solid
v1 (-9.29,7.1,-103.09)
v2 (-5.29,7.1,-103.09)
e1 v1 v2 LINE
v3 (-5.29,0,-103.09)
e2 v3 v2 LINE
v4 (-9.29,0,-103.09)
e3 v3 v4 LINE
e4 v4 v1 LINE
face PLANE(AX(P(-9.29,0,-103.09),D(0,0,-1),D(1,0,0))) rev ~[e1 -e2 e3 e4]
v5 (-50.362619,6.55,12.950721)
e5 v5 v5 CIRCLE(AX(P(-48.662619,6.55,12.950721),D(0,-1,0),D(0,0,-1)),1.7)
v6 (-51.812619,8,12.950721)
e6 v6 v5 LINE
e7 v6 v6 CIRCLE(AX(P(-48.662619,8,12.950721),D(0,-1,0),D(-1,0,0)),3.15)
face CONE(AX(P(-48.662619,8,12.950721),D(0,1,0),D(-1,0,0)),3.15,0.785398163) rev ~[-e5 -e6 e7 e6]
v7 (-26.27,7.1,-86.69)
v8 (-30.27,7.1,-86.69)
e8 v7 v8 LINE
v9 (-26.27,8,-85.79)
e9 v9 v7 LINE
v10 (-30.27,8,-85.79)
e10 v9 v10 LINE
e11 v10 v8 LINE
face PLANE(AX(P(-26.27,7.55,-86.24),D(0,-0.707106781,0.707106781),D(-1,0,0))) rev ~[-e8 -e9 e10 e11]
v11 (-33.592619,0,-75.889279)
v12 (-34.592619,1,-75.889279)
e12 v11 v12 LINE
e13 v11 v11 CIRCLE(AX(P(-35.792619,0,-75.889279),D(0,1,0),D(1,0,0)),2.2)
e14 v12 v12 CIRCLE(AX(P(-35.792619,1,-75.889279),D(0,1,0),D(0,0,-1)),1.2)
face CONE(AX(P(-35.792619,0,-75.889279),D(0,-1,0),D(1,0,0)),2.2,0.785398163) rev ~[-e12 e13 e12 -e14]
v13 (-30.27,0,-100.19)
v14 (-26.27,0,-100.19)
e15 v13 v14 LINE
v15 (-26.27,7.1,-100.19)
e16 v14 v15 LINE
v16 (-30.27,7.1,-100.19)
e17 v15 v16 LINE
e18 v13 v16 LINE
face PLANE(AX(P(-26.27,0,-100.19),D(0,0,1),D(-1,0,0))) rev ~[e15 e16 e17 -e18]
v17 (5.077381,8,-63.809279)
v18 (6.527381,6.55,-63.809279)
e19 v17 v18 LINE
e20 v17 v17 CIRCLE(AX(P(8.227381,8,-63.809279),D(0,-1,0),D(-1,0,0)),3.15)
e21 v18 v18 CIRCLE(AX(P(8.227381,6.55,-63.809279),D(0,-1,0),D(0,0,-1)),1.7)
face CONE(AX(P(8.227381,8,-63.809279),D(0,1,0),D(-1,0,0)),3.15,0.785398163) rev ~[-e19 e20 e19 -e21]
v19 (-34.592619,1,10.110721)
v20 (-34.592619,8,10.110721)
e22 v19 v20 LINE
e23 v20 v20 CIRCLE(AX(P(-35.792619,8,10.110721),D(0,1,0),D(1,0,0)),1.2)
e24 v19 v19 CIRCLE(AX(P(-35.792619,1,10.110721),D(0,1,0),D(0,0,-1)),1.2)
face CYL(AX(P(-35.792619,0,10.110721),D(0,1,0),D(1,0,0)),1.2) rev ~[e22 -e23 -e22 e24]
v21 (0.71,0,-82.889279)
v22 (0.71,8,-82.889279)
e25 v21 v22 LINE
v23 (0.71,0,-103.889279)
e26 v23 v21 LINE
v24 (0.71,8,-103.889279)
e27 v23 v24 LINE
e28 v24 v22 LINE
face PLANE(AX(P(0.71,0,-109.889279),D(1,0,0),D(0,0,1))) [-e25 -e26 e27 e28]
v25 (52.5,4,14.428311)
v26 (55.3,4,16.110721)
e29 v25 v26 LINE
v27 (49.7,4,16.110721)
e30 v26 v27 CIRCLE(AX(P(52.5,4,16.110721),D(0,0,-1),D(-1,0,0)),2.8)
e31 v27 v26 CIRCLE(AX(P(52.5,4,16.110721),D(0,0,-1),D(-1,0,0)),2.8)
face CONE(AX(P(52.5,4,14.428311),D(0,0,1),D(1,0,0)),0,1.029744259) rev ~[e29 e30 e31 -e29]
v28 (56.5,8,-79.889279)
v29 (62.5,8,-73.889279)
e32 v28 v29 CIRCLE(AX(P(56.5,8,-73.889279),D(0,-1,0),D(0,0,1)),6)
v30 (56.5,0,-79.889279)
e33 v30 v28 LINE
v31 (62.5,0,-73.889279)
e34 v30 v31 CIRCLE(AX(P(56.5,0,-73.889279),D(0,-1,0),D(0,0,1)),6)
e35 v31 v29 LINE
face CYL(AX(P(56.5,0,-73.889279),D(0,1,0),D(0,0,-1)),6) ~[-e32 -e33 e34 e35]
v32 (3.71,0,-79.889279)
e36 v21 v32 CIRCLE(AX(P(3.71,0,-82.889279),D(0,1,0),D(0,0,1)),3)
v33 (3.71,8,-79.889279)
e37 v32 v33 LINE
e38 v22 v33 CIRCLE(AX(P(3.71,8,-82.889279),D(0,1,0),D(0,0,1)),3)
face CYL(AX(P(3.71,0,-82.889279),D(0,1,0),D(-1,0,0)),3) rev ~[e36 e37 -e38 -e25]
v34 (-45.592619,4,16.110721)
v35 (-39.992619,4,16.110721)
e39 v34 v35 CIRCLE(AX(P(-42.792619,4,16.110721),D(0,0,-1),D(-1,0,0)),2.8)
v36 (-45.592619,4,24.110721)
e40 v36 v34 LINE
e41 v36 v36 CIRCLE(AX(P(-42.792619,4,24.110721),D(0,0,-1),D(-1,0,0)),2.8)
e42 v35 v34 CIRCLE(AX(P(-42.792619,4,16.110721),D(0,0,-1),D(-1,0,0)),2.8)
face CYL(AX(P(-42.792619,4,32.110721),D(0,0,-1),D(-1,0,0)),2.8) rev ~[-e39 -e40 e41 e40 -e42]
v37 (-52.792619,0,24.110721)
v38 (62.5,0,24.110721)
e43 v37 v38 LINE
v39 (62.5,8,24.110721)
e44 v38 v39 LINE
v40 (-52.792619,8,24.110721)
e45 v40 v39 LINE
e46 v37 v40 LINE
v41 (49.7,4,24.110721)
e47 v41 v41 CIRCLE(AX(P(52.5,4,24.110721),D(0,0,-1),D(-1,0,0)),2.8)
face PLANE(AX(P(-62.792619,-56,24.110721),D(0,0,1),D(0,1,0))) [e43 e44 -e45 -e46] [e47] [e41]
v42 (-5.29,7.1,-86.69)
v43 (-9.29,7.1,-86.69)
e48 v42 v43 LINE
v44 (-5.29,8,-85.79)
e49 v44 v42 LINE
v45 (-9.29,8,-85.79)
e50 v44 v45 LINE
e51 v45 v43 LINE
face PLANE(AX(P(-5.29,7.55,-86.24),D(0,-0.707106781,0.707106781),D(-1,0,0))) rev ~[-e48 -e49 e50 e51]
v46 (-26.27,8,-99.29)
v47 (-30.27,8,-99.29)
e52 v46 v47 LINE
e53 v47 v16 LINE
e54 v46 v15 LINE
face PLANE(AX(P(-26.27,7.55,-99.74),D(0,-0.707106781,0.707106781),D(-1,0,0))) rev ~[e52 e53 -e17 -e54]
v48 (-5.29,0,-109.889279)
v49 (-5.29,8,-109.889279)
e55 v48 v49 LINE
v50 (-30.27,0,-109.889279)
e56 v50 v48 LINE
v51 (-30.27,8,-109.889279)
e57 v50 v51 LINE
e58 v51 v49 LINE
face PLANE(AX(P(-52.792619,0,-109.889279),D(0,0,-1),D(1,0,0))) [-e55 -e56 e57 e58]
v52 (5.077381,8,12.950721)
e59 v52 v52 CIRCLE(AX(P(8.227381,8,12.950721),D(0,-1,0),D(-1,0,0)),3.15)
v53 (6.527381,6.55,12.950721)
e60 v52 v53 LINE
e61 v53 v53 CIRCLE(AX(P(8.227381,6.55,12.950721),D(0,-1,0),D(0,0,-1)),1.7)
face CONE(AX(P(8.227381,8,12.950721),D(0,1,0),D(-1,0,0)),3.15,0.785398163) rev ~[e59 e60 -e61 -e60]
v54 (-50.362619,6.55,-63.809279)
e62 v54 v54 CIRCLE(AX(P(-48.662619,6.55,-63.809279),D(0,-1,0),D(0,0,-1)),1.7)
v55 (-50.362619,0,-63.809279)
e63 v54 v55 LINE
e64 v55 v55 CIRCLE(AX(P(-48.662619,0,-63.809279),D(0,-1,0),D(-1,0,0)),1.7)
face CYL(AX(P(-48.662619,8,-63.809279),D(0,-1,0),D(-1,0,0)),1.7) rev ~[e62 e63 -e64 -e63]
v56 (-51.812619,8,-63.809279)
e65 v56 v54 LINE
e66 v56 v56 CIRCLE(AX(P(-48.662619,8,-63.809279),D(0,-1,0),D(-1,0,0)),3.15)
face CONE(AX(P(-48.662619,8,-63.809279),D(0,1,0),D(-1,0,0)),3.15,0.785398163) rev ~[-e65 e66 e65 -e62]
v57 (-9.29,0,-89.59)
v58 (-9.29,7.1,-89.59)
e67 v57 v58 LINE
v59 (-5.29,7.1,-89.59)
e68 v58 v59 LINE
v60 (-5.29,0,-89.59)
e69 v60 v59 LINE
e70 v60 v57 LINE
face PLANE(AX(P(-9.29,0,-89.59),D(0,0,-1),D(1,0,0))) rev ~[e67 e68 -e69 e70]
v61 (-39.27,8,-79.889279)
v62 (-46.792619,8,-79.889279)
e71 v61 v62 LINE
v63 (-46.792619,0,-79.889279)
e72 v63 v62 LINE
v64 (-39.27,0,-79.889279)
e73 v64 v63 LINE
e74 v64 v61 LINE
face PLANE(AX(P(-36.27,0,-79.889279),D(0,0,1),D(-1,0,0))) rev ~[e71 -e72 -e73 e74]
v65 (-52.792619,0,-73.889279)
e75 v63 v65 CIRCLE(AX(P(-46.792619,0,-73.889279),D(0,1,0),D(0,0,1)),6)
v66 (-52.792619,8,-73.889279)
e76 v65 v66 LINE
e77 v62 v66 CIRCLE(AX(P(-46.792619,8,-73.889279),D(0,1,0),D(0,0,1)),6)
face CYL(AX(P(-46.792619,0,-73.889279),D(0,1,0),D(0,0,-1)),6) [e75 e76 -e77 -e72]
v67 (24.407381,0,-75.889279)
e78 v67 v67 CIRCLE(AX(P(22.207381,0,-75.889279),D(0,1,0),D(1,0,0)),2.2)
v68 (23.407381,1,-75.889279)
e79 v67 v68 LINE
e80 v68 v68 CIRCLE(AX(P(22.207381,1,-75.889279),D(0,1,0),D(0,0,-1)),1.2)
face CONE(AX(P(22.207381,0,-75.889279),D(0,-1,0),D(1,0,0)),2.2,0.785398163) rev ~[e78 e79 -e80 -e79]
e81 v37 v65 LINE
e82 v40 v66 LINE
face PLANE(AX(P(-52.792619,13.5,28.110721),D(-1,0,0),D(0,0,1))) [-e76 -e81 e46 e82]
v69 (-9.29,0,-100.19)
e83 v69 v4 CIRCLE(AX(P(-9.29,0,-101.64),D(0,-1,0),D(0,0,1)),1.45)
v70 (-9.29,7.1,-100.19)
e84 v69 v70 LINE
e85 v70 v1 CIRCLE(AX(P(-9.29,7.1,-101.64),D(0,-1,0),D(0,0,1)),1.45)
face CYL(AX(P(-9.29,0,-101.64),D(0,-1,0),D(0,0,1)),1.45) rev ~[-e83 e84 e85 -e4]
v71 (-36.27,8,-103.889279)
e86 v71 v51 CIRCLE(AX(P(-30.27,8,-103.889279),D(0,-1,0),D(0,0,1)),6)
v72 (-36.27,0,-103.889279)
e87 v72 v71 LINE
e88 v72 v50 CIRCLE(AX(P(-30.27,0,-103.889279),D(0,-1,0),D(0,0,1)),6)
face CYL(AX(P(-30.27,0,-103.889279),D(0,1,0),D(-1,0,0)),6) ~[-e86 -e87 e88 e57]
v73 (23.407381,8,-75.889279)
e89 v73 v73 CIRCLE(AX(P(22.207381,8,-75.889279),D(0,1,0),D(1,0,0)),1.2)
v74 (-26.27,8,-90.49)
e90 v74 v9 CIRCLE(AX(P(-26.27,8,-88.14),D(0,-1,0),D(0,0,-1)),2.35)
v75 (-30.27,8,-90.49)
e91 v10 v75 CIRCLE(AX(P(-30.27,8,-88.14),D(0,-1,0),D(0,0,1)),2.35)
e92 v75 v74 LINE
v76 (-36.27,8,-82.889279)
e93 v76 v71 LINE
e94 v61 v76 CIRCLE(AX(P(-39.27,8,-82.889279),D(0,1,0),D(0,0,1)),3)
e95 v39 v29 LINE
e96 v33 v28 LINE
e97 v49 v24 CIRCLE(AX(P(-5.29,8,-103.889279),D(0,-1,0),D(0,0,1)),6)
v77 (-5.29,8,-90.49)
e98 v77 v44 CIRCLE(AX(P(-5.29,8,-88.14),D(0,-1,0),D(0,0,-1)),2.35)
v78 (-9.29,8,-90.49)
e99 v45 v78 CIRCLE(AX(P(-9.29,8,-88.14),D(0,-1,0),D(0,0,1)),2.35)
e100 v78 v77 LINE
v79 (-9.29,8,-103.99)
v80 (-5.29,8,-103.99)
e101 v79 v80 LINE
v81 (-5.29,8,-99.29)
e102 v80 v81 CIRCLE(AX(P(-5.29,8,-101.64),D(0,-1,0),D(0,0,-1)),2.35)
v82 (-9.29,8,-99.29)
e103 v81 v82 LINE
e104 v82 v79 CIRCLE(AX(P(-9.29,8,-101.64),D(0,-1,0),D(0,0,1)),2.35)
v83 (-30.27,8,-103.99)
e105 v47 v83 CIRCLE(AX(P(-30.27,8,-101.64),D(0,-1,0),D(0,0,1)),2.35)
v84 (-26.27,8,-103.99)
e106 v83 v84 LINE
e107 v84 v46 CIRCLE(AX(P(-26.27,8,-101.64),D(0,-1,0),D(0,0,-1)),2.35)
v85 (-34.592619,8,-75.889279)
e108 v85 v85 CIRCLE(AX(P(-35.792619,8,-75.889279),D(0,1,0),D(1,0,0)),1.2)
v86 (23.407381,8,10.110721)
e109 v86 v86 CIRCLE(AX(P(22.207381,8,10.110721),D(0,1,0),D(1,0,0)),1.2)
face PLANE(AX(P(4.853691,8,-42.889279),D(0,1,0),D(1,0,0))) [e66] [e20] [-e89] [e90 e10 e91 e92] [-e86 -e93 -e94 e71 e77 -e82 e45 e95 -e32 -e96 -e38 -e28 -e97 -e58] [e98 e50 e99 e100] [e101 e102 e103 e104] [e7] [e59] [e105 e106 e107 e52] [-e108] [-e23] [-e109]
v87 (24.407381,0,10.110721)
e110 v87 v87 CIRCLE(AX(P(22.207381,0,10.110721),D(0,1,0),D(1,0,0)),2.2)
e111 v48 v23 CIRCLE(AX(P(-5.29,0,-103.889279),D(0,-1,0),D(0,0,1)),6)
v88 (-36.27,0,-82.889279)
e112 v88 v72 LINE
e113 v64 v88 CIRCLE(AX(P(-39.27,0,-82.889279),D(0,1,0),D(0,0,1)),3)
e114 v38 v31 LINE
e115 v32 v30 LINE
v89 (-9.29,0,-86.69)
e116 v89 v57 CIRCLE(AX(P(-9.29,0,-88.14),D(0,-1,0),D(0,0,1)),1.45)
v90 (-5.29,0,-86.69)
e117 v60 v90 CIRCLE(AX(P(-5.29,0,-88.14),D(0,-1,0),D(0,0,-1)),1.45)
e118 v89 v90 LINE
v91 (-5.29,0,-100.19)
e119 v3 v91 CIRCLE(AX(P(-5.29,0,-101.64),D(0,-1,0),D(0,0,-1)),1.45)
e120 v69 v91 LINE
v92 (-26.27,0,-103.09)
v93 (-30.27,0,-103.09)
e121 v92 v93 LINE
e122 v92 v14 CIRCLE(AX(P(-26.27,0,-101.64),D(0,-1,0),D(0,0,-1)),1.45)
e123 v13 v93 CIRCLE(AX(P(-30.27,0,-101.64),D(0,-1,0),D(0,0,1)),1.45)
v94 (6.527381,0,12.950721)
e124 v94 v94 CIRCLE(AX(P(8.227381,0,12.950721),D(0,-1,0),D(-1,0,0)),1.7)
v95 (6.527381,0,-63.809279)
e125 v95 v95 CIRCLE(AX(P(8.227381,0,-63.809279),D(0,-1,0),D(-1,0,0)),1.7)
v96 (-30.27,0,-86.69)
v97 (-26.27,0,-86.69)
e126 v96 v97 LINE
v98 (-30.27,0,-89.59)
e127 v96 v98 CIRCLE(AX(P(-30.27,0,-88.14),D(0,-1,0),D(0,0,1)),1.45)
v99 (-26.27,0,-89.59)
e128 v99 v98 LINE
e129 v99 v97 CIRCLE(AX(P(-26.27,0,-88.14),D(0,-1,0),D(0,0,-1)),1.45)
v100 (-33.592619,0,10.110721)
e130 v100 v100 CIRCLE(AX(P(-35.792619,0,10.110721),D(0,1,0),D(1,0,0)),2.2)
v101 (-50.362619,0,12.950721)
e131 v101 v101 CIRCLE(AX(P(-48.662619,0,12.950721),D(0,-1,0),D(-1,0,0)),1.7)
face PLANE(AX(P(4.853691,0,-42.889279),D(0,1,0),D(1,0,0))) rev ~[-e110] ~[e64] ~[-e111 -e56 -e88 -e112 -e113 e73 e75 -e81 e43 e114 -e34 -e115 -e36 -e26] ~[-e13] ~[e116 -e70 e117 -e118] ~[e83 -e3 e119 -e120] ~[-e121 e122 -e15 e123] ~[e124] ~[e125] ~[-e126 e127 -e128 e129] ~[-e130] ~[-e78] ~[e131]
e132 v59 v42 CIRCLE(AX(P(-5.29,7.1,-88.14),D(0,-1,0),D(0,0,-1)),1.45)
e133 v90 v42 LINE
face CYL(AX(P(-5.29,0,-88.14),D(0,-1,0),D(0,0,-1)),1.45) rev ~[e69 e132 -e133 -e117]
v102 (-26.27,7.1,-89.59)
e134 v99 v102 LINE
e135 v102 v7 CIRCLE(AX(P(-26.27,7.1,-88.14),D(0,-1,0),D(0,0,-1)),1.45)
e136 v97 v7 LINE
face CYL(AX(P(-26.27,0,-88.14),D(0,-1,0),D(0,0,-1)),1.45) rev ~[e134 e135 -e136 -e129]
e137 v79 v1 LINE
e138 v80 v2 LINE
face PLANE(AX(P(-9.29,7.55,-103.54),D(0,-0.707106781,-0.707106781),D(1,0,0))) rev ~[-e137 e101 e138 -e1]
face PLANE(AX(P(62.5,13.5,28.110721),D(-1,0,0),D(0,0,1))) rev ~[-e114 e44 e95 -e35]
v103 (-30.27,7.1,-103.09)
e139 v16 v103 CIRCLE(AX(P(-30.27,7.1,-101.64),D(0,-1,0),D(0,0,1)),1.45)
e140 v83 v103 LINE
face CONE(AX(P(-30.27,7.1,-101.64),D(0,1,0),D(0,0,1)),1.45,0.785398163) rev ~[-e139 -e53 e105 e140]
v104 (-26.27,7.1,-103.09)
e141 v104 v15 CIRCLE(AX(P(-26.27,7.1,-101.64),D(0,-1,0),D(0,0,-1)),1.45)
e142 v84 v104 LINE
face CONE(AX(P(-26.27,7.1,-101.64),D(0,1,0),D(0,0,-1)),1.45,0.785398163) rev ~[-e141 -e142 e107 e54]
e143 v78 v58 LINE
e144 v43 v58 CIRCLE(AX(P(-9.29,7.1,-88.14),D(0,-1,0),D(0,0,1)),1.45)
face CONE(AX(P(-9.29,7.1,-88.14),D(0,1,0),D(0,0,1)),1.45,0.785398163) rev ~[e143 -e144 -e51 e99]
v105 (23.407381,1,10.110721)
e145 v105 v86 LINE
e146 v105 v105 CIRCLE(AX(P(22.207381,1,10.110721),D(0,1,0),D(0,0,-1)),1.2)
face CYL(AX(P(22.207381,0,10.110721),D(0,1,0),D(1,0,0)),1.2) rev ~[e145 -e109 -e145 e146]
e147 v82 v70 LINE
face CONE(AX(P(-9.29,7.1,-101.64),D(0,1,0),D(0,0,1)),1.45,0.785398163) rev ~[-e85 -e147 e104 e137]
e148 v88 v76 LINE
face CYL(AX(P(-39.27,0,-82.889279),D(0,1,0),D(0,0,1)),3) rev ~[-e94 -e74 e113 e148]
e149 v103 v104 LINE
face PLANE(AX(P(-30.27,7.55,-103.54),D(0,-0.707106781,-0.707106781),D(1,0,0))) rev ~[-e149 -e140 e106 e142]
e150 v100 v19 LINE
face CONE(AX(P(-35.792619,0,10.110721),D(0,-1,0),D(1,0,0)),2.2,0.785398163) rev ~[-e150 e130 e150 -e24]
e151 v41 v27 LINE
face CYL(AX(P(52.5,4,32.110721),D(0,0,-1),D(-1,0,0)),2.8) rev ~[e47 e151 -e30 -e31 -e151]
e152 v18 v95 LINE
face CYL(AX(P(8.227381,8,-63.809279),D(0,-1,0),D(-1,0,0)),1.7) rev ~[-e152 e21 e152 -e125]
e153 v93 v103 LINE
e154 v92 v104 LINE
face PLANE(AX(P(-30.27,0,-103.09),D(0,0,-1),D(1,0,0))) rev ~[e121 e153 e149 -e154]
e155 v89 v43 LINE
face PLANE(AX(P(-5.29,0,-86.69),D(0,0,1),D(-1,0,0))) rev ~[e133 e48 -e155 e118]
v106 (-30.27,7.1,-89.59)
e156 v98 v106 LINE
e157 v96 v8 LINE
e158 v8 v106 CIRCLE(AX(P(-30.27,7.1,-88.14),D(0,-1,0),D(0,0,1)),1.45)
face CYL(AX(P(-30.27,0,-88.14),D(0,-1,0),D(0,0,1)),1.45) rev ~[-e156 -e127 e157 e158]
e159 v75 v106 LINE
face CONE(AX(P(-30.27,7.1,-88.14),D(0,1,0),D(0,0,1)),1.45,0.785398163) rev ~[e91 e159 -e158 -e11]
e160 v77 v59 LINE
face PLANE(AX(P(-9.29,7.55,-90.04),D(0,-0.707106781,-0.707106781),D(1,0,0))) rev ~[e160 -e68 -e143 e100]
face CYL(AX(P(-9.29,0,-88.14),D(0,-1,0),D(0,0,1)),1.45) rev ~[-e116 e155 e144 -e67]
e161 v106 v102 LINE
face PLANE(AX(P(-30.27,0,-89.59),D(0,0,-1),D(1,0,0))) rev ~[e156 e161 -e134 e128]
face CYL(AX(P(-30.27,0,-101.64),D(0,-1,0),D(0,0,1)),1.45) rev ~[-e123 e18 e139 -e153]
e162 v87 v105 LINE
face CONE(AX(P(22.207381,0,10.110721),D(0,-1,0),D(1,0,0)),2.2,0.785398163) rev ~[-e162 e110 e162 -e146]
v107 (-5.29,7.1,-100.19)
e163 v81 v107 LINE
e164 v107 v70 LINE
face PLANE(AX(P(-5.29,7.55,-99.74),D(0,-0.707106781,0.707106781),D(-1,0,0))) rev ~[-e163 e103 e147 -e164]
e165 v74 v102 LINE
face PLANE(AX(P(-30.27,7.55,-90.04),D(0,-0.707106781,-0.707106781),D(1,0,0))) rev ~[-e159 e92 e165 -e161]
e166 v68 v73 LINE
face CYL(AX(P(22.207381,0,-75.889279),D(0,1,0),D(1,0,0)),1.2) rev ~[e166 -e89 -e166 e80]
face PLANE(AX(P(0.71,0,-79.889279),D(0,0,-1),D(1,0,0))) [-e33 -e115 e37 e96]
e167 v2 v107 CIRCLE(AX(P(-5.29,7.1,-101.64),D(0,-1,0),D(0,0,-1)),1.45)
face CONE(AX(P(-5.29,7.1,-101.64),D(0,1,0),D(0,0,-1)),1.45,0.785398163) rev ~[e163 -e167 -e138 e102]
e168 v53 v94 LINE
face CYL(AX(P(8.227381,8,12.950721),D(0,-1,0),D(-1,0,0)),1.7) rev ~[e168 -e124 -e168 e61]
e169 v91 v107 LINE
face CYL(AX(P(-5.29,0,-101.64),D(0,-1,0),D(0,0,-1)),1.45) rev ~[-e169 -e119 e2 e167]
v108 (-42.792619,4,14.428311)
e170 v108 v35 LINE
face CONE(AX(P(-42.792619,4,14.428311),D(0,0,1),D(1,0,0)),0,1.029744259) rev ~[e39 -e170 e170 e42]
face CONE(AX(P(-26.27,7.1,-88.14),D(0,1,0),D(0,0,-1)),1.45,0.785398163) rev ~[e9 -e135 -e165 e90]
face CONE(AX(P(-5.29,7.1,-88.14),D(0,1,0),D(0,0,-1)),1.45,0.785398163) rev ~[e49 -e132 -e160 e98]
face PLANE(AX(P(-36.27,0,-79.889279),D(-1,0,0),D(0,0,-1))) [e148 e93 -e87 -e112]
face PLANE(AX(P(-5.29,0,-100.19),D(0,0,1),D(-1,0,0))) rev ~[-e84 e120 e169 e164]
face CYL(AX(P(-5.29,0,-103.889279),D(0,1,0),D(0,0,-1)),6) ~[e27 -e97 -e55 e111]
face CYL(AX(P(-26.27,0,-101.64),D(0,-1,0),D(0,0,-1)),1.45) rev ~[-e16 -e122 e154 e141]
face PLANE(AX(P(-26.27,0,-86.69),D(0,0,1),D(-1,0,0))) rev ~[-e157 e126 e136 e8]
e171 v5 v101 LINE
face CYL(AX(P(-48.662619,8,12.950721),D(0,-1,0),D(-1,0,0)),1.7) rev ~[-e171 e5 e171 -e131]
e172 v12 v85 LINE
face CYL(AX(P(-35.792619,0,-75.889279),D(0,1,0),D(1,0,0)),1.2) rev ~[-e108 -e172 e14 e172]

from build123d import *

# Parameters (mm, degrees)
SKETCH2_W                                       = 115.292618629
SKETCH2_H                                       = 134.000000002
BOSS_EXTRUDE2_DEPTH                             = 8
FILLET2_R                                       = 6
CSK_FOR_M2_FLAT_HEAD_MACHINE_SCREW2_D           = 2.4
CSK_FOR_M2_FLAT_HEAD_MACHINE_SCREW2_CSINK_D     = 4.4
CSK_FOR_M2_FLAT_HEAD_MACHINE_SCREW2_CSINK_ANGLE = 90
CSK_FOR_M3_FLAT_HEAD_MACHINE_SCREW1_D           = 3.4
CSK_FOR_M3_FLAT_HEAD_MACHINE_SCREW1_CSINK_D     = 6.3
CSK_FOR_M3_FLAT_HEAD_MACHINE_SCREW1_CSINK_ANGLE = 90
SKETCH19_W                                      = 8
SKETCH19_H                                      = 99
BOSS_EXTRUDE3_DEPTH                             = 115.292618629
SKETCH21_W                                      = 135.292618629
SKETCH21_H                                      = 129
SKETCH21_W_2                                    = 115.292618629
SKETCH21_H_2                                    = 99
BOSS_EXTRUDE4_DEPTH                             = 8
FILLET3_R                                       = 5
CUT_EXTRUDE1_DEPTH                              = 4
SKETCH24_W                                      = 115.292618629
SKETCH24_H                                      = 10
BOSS_EXTRUDE5_DEPTH                             = 104
FILLET4_R                                       = 6
M2_5_CLEARANCE_HOLE1_D                          = 2.9
CUT_EXTRUDE4_START                              = -8
CUT_EXTRUDE4_DEPTH                              = 8
CHAMFER1_SIZE                                   = 0.9
SKETCH61_W                                      = 104
SKETCH61_H                                      = 10
CUT_EXTRUDE6_DEPTH                              = 115.292618629
SKETCH62_W                                      = 8
SKETCH62_H                                      = 129
CUT_EXTRUDE7_DEPTH                              = 135.292618629
F_5_6_5_6_DIAMETER_HOLE1_D                      = 5.6
F_5_6_5_6_DIAMETER_HOLE1_DEPTH                  = 8
F_5_6_5_6_DIAMETER_HOLE1_TIP                    = 1.682409733
SKETCH66_W                                      = 61.79
SKETCH66_H                                      = 30.000000002
CUT_EXTRUDE9_DEPTH                              = 8
SKETCH67_W                                      = 16.522618629
SKETCH67_H                                      = 30.000000002
CUT_EXTRUDE10_DEPTH                             = 8
FILLET5_R                                       = 6
FILLET6_R                                       = 3


with BuildPart() as part:
    # Sketch2 → Boss-Extrude2 (new body)
    with BuildSketch(Plane(origin=(0, 0, 0), x_dir=(1, 0, 0), z_dir=(0, 1, 0))):
        with Locations((4.853690686, 42.889279439)):
            Rectangle(SKETCH2_W, SKETCH2_H)
    extrude(amount=BOSS_EXTRUDE2_DEPTH)

    # Fillet2
    fillet2_edges = [part.edges().sort_by_distance(p)[0] for p in [
        (-52.792618629, 4, -109.88927944),
        (62.5, 4, -109.88927944),
    ]]
    fillet(fillet2_edges, radius=FILLET2_R)

    # CSK for M2 Flat Head Machine Screw2 (through all)
    with Locations(Plane(origin=(0, 0, 0), x_dir=(-1, 0, 0), z_dir=(0, -1, 0))):
        with Locations((-22.207381371, 75.889279438), (35.792618629, 75.889279438), (35.792618629, -10.110720562), (-22.207381371, -10.110720562)):
            CounterSinkHole(CSK_FOR_M2_FLAT_HEAD_MACHINE_SCREW2_D / 2, CSK_FOR_M2_FLAT_HEAD_MACHINE_SCREW2_CSINK_D / 2, counter_sink_angle=CSK_FOR_M2_FLAT_HEAD_MACHINE_SCREW2_CSINK_ANGLE)

    # CSK for M3 Flat Head Machine Screw1 (through all)
    with Locations(Plane(origin=(0, 8, 0), x_dir=(1, 0, 0), z_dir=(0, 1, 0))):
        with Locations((-48.662618629, 63.809279438), (8.227381371, 63.809279438), (8.227381371, -12.950720562), (-48.662618629, -12.950720562)):
            CounterSinkHole(CSK_FOR_M3_FLAT_HEAD_MACHINE_SCREW1_D / 2, CSK_FOR_M3_FLAT_HEAD_MACHINE_SCREW1_CSINK_D / 2, counter_sink_angle=CSK_FOR_M3_FLAT_HEAD_MACHINE_SCREW1_CSINK_ANGLE)

    # Sketch19 → Boss-Extrude3 (add)
    with BuildSketch(Plane.ZY.offset(52.792618629)):
        with Locations((28.110720562, 13.5)):
            Rectangle(SKETCH19_W, SKETCH19_H)
    extrude(amount=-BOSS_EXTRUDE3_DEPTH)

    # Sketch21 → Boss-Extrude4 (add)
    with BuildSketch(Plane.XY.offset(32.110720562)):
        with Locations((4.853690685, 8.5)):
            Rectangle(SKETCH21_W, SKETCH21_H)
        with Locations((4.853690686, 13.5)):
            Rectangle(SKETCH21_W_2, SKETCH21_H_2, mode=Mode.SUBTRACT)
    extrude(amount=-BOSS_EXTRUDE4_DEPTH)

    # Fillet3
    fillet3_edges = [part.edges().sort_by_distance(p)[0] for p in [
        (72.5, 73, 28.110720562),
        (72.5, -56, 28.110720562),
        (-62.792618629, -56, 28.110720562),
        (-62.792618629, 73, 28.110720562),
    ]]
    fillet(fillet3_edges, radius=FILLET3_R)

    # Sketch22 → Cut-Extrude1 (cut)
    with BuildSketch(Plane(origin=(0, 0, 24.110720562), x_dir=(-1, 0, 0), z_dir=(0, 0, -1))):
        with BuildLine():
            Line((62.792618629, -51), (62.792618629, 68))
            ThreePointArc((62.792618629, 68), (61.328152535, 71.535533906), (57.792618629, 73))
            Line((57.792618629, 73), (-67.5, 73))
            ThreePointArc((-67.5, 73), (-71.035533906, 71.535533906), (-72.5, 68))
            Line((-72.5, 68), (-72.5, -51))
            ThreePointArc((-72.5, -51), (-71.035533906, -54.535533906), (-67.5, -56))
            Line((-67.5, -56), (57.792618629, -56))
            ThreePointArc((57.792618629, -56), (61.328152535, -54.535533906), (62.792618629, -51))
        make_face()
        with BuildLine():
            Line((57.792618629, 69.75), (-67.5, 69.75))
            ThreePointArc((-67.5, 69.75), (-68.737436867, 69.237436867), (-69.25, 68))
            Line((-69.25, 68), (-69.25, -51))
            ThreePointArc((-69.25, -51), (-68.737436867, -52.237436867), (-67.5, -52.75))
            Line((-67.5, -52.75), (57.792618629, -52.75))
            ThreePointArc((57.792618629, -52.75), (59.030055496, -52.237436867), (59.542618629, -51))
            Line((59.542618629, -51), (59.542618629, 68))
            ThreePointArc((59.542618629, 68), (59.030055496, 69.237436867), (57.792618629, 69.75))
        make_face(mode=Mode.SUBTRACT)
    extrude(amount=-CUT_EXTRUDE1_DEPTH, mode=Mode.SUBTRACT)

    # Sketch24 → Boss-Extrude5 (add)
    with BuildSketch(Plane(origin=(0, 0, 24.110720562), x_dir=(-1, 0, 0), z_dir=(0, 0, -1))):
        with Locations((-4.853690686, 60)):
            Rectangle(SKETCH24_W, SKETCH24_H)
    extrude(amount=BOSS_EXTRUDE5_DEPTH)

    # Fillet4
    fillet4_edges = [part.edges().sort_by_distance(p)[0] for p in [
        (62.5, 60, -79.889279438),
        (-52.792618629, 60, -79.889279438),
    ]]
    fillet(fillet4_edges, radius=FILLET4_R)

    # M2.5 Clearance Hole1 (through all)
    with Locations(Plane(origin=(0, 8, 0), x_dir=(1, 0, 0), z_dir=(0, 1, 0))):
        with Locations((-28.27, 101.64), (-7.29, 101.64), (-7.29, 88.14), (-28.27, 88.14)):
            Hole(M2_5_CLEARANCE_HOLE1_D / 2)

    # Sketch60 → Cut-Extrude4 (cut)
    with BuildSketch(Plane(origin=(0, 8, 0), x_dir=(1, 0, 0), z_dir=(0, 1, 0)).offset(CUT_EXTRUDE4_START)):
        with BuildLine():
            Line((-30.27, 103.09), (-26.27, 103.09))
            ThreePointArc((-26.27, 103.09), (-24.82, 101.64), (-26.27, 100.19))
            Line((-26.27, 100.19), (-30.27, 100.19))
            ThreePointArc((-30.27, 100.19), (-31.72, 101.64), (-30.27, 103.09))
        make_face()
        with BuildLine():
            Line((-9.29, 103.09), (-5.29, 103.09))
            ThreePointArc((-5.29, 103.09), (-3.84, 101.64), (-5.29, 100.19))
            Line((-5.29, 100.19), (-9.29, 100.19))
            ThreePointArc((-9.29, 100.19), (-10.74, 101.64), (-9.29, 103.09))
        make_face()
        with BuildLine():
            Line((-30.27, 89.59), (-26.27, 89.59))
            ThreePointArc((-26.27, 89.59), (-24.82, 88.14), (-26.27, 86.69))
            Line((-26.27, 86.69), (-30.27, 86.69))
            ThreePointArc((-30.27, 86.69), (-31.72, 88.14), (-30.27, 89.59))
        make_face()
        with BuildLine():
            Line((-9.29, 89.59), (-5.29, 89.59))
            ThreePointArc((-5.29, 89.59), (-3.84, 88.14), (-5.29, 86.69))
            Line((-5.29, 86.69), (-9.29, 86.69))
            ThreePointArc((-9.29, 86.69), (-10.74, 88.14), (-9.29, 89.59))
        make_face()
    extrude(amount=CUT_EXTRUDE4_DEPTH, mode=Mode.SUBTRACT)

    # Chamfer1
    chamfer1_edges = [part.edges().sort_by_distance(p)[0] for p in [
        (-7.29, 8, -100.19),
        (-3.84, 8, -101.64),
        (-7.29, 8, -103.09),
        (-28.27, 8, -86.69),
        (-24.82, 8, -88.14),
        (-28.27, 8, -89.59),
        (-7.29, 8, -86.69),
        (-3.84, 8, -88.14),
        (-7.29, 8, -89.59),
        (-28.27, 8, -103.09),
        (-31.72, 8, -101.64),
        (-28.27, 8, -100.19),
        (-24.82, 8, -101.64),
        (-10.74, 8, -88.14),
        (-31.72, 8, -88.14),
        (-10.74, 8, -101.64),
    ]]
    chamfer(chamfer1_edges, length=CHAMFER1_SIZE)

    # Sketch61 → Cut-Extrude6 (cut)
    with BuildSketch(Plane.ZY.offset(52.792618629)):
        with Locations((-27.889279438, 60)):
            Rectangle(SKETCH61_W, SKETCH61_H)
    extrude(amount=-CUT_EXTRUDE6_DEPTH, mode=Mode.SUBTRACT)

    # Sketch62 → Cut-Extrude7 (cut)
    with BuildSketch(Plane.ZY.offset(62.792618629)):
        with Locations((28.110720562, 8.5)):
            Rectangle(SKETCH62_W, SKETCH62_H)
    extrude(amount=-CUT_EXTRUDE7_DEPTH, mode=Mode.SUBTRACT)

    # Ø5.6 (5.6) Diameter Hole1
    with Locations(Plane.XY.offset(24.110720562)):
        with Locations((-42.792618629, 4), (52.5, 4)):
            Hole(F_5_6_5_6_DIAMETER_HOLE1_D / 2, depth=F_5_6_5_6_DIAMETER_HOLE1_DEPTH)
            with Locations((0, 0, -(F_5_6_5_6_DIAMETER_HOLE1_DEPTH + F_5_6_5_6_DIAMETER_HOLE1_TIP / 2))):  # 118° drill point
                Cone(0, F_5_6_5_6_DIAMETER_HOLE1_D / 2, F_5_6_5_6_DIAMETER_HOLE1_TIP, mode=Mode.SUBTRACT)

    # Sketch66 → Cut-Extrude9 (cut)
    with BuildSketch(Plane.XZ):
        with Locations((31.605, -94.889279439)):
            Rectangle(SKETCH66_W, SKETCH66_H)
    extrude(amount=-CUT_EXTRUDE9_DEPTH, mode=Mode.SUBTRACT)

    # Sketch67 → Cut-Extrude10 (cut)
    with BuildSketch(Plane(origin=(0, 0, 0), x_dir=(-1, 0, 0), z_dir=(0, -1, 0))):
        with Locations((44.531309315, 94.889279439)):
            Rectangle(SKETCH67_W, SKETCH67_H)
    extrude(amount=-CUT_EXTRUDE10_DEPTH, mode=Mode.SUBTRACT)

    # Fillet5
    fillet5_edges = [part.edges().sort_by_distance(p)[0] for p in [
        (62.5, 4, -79.889279438),
        (0.71, 4, -109.88927944),
        (-36.27, 4, -109.88927944),
        (-52.792618629, 4, -79.889279438),
    ]]
    fillet(fillet5_edges, radius=FILLET5_R)

    # Fillet6
    fillet6_edges = [part.edges().sort_by_distance(p)[0] for p in [
        (0.71, 4, -79.889279438),
        (-36.27, 4, -79.889279438),
    ]]
    fillet(fillet6_edges, radius=FILLET6_R)


solid = part.part
